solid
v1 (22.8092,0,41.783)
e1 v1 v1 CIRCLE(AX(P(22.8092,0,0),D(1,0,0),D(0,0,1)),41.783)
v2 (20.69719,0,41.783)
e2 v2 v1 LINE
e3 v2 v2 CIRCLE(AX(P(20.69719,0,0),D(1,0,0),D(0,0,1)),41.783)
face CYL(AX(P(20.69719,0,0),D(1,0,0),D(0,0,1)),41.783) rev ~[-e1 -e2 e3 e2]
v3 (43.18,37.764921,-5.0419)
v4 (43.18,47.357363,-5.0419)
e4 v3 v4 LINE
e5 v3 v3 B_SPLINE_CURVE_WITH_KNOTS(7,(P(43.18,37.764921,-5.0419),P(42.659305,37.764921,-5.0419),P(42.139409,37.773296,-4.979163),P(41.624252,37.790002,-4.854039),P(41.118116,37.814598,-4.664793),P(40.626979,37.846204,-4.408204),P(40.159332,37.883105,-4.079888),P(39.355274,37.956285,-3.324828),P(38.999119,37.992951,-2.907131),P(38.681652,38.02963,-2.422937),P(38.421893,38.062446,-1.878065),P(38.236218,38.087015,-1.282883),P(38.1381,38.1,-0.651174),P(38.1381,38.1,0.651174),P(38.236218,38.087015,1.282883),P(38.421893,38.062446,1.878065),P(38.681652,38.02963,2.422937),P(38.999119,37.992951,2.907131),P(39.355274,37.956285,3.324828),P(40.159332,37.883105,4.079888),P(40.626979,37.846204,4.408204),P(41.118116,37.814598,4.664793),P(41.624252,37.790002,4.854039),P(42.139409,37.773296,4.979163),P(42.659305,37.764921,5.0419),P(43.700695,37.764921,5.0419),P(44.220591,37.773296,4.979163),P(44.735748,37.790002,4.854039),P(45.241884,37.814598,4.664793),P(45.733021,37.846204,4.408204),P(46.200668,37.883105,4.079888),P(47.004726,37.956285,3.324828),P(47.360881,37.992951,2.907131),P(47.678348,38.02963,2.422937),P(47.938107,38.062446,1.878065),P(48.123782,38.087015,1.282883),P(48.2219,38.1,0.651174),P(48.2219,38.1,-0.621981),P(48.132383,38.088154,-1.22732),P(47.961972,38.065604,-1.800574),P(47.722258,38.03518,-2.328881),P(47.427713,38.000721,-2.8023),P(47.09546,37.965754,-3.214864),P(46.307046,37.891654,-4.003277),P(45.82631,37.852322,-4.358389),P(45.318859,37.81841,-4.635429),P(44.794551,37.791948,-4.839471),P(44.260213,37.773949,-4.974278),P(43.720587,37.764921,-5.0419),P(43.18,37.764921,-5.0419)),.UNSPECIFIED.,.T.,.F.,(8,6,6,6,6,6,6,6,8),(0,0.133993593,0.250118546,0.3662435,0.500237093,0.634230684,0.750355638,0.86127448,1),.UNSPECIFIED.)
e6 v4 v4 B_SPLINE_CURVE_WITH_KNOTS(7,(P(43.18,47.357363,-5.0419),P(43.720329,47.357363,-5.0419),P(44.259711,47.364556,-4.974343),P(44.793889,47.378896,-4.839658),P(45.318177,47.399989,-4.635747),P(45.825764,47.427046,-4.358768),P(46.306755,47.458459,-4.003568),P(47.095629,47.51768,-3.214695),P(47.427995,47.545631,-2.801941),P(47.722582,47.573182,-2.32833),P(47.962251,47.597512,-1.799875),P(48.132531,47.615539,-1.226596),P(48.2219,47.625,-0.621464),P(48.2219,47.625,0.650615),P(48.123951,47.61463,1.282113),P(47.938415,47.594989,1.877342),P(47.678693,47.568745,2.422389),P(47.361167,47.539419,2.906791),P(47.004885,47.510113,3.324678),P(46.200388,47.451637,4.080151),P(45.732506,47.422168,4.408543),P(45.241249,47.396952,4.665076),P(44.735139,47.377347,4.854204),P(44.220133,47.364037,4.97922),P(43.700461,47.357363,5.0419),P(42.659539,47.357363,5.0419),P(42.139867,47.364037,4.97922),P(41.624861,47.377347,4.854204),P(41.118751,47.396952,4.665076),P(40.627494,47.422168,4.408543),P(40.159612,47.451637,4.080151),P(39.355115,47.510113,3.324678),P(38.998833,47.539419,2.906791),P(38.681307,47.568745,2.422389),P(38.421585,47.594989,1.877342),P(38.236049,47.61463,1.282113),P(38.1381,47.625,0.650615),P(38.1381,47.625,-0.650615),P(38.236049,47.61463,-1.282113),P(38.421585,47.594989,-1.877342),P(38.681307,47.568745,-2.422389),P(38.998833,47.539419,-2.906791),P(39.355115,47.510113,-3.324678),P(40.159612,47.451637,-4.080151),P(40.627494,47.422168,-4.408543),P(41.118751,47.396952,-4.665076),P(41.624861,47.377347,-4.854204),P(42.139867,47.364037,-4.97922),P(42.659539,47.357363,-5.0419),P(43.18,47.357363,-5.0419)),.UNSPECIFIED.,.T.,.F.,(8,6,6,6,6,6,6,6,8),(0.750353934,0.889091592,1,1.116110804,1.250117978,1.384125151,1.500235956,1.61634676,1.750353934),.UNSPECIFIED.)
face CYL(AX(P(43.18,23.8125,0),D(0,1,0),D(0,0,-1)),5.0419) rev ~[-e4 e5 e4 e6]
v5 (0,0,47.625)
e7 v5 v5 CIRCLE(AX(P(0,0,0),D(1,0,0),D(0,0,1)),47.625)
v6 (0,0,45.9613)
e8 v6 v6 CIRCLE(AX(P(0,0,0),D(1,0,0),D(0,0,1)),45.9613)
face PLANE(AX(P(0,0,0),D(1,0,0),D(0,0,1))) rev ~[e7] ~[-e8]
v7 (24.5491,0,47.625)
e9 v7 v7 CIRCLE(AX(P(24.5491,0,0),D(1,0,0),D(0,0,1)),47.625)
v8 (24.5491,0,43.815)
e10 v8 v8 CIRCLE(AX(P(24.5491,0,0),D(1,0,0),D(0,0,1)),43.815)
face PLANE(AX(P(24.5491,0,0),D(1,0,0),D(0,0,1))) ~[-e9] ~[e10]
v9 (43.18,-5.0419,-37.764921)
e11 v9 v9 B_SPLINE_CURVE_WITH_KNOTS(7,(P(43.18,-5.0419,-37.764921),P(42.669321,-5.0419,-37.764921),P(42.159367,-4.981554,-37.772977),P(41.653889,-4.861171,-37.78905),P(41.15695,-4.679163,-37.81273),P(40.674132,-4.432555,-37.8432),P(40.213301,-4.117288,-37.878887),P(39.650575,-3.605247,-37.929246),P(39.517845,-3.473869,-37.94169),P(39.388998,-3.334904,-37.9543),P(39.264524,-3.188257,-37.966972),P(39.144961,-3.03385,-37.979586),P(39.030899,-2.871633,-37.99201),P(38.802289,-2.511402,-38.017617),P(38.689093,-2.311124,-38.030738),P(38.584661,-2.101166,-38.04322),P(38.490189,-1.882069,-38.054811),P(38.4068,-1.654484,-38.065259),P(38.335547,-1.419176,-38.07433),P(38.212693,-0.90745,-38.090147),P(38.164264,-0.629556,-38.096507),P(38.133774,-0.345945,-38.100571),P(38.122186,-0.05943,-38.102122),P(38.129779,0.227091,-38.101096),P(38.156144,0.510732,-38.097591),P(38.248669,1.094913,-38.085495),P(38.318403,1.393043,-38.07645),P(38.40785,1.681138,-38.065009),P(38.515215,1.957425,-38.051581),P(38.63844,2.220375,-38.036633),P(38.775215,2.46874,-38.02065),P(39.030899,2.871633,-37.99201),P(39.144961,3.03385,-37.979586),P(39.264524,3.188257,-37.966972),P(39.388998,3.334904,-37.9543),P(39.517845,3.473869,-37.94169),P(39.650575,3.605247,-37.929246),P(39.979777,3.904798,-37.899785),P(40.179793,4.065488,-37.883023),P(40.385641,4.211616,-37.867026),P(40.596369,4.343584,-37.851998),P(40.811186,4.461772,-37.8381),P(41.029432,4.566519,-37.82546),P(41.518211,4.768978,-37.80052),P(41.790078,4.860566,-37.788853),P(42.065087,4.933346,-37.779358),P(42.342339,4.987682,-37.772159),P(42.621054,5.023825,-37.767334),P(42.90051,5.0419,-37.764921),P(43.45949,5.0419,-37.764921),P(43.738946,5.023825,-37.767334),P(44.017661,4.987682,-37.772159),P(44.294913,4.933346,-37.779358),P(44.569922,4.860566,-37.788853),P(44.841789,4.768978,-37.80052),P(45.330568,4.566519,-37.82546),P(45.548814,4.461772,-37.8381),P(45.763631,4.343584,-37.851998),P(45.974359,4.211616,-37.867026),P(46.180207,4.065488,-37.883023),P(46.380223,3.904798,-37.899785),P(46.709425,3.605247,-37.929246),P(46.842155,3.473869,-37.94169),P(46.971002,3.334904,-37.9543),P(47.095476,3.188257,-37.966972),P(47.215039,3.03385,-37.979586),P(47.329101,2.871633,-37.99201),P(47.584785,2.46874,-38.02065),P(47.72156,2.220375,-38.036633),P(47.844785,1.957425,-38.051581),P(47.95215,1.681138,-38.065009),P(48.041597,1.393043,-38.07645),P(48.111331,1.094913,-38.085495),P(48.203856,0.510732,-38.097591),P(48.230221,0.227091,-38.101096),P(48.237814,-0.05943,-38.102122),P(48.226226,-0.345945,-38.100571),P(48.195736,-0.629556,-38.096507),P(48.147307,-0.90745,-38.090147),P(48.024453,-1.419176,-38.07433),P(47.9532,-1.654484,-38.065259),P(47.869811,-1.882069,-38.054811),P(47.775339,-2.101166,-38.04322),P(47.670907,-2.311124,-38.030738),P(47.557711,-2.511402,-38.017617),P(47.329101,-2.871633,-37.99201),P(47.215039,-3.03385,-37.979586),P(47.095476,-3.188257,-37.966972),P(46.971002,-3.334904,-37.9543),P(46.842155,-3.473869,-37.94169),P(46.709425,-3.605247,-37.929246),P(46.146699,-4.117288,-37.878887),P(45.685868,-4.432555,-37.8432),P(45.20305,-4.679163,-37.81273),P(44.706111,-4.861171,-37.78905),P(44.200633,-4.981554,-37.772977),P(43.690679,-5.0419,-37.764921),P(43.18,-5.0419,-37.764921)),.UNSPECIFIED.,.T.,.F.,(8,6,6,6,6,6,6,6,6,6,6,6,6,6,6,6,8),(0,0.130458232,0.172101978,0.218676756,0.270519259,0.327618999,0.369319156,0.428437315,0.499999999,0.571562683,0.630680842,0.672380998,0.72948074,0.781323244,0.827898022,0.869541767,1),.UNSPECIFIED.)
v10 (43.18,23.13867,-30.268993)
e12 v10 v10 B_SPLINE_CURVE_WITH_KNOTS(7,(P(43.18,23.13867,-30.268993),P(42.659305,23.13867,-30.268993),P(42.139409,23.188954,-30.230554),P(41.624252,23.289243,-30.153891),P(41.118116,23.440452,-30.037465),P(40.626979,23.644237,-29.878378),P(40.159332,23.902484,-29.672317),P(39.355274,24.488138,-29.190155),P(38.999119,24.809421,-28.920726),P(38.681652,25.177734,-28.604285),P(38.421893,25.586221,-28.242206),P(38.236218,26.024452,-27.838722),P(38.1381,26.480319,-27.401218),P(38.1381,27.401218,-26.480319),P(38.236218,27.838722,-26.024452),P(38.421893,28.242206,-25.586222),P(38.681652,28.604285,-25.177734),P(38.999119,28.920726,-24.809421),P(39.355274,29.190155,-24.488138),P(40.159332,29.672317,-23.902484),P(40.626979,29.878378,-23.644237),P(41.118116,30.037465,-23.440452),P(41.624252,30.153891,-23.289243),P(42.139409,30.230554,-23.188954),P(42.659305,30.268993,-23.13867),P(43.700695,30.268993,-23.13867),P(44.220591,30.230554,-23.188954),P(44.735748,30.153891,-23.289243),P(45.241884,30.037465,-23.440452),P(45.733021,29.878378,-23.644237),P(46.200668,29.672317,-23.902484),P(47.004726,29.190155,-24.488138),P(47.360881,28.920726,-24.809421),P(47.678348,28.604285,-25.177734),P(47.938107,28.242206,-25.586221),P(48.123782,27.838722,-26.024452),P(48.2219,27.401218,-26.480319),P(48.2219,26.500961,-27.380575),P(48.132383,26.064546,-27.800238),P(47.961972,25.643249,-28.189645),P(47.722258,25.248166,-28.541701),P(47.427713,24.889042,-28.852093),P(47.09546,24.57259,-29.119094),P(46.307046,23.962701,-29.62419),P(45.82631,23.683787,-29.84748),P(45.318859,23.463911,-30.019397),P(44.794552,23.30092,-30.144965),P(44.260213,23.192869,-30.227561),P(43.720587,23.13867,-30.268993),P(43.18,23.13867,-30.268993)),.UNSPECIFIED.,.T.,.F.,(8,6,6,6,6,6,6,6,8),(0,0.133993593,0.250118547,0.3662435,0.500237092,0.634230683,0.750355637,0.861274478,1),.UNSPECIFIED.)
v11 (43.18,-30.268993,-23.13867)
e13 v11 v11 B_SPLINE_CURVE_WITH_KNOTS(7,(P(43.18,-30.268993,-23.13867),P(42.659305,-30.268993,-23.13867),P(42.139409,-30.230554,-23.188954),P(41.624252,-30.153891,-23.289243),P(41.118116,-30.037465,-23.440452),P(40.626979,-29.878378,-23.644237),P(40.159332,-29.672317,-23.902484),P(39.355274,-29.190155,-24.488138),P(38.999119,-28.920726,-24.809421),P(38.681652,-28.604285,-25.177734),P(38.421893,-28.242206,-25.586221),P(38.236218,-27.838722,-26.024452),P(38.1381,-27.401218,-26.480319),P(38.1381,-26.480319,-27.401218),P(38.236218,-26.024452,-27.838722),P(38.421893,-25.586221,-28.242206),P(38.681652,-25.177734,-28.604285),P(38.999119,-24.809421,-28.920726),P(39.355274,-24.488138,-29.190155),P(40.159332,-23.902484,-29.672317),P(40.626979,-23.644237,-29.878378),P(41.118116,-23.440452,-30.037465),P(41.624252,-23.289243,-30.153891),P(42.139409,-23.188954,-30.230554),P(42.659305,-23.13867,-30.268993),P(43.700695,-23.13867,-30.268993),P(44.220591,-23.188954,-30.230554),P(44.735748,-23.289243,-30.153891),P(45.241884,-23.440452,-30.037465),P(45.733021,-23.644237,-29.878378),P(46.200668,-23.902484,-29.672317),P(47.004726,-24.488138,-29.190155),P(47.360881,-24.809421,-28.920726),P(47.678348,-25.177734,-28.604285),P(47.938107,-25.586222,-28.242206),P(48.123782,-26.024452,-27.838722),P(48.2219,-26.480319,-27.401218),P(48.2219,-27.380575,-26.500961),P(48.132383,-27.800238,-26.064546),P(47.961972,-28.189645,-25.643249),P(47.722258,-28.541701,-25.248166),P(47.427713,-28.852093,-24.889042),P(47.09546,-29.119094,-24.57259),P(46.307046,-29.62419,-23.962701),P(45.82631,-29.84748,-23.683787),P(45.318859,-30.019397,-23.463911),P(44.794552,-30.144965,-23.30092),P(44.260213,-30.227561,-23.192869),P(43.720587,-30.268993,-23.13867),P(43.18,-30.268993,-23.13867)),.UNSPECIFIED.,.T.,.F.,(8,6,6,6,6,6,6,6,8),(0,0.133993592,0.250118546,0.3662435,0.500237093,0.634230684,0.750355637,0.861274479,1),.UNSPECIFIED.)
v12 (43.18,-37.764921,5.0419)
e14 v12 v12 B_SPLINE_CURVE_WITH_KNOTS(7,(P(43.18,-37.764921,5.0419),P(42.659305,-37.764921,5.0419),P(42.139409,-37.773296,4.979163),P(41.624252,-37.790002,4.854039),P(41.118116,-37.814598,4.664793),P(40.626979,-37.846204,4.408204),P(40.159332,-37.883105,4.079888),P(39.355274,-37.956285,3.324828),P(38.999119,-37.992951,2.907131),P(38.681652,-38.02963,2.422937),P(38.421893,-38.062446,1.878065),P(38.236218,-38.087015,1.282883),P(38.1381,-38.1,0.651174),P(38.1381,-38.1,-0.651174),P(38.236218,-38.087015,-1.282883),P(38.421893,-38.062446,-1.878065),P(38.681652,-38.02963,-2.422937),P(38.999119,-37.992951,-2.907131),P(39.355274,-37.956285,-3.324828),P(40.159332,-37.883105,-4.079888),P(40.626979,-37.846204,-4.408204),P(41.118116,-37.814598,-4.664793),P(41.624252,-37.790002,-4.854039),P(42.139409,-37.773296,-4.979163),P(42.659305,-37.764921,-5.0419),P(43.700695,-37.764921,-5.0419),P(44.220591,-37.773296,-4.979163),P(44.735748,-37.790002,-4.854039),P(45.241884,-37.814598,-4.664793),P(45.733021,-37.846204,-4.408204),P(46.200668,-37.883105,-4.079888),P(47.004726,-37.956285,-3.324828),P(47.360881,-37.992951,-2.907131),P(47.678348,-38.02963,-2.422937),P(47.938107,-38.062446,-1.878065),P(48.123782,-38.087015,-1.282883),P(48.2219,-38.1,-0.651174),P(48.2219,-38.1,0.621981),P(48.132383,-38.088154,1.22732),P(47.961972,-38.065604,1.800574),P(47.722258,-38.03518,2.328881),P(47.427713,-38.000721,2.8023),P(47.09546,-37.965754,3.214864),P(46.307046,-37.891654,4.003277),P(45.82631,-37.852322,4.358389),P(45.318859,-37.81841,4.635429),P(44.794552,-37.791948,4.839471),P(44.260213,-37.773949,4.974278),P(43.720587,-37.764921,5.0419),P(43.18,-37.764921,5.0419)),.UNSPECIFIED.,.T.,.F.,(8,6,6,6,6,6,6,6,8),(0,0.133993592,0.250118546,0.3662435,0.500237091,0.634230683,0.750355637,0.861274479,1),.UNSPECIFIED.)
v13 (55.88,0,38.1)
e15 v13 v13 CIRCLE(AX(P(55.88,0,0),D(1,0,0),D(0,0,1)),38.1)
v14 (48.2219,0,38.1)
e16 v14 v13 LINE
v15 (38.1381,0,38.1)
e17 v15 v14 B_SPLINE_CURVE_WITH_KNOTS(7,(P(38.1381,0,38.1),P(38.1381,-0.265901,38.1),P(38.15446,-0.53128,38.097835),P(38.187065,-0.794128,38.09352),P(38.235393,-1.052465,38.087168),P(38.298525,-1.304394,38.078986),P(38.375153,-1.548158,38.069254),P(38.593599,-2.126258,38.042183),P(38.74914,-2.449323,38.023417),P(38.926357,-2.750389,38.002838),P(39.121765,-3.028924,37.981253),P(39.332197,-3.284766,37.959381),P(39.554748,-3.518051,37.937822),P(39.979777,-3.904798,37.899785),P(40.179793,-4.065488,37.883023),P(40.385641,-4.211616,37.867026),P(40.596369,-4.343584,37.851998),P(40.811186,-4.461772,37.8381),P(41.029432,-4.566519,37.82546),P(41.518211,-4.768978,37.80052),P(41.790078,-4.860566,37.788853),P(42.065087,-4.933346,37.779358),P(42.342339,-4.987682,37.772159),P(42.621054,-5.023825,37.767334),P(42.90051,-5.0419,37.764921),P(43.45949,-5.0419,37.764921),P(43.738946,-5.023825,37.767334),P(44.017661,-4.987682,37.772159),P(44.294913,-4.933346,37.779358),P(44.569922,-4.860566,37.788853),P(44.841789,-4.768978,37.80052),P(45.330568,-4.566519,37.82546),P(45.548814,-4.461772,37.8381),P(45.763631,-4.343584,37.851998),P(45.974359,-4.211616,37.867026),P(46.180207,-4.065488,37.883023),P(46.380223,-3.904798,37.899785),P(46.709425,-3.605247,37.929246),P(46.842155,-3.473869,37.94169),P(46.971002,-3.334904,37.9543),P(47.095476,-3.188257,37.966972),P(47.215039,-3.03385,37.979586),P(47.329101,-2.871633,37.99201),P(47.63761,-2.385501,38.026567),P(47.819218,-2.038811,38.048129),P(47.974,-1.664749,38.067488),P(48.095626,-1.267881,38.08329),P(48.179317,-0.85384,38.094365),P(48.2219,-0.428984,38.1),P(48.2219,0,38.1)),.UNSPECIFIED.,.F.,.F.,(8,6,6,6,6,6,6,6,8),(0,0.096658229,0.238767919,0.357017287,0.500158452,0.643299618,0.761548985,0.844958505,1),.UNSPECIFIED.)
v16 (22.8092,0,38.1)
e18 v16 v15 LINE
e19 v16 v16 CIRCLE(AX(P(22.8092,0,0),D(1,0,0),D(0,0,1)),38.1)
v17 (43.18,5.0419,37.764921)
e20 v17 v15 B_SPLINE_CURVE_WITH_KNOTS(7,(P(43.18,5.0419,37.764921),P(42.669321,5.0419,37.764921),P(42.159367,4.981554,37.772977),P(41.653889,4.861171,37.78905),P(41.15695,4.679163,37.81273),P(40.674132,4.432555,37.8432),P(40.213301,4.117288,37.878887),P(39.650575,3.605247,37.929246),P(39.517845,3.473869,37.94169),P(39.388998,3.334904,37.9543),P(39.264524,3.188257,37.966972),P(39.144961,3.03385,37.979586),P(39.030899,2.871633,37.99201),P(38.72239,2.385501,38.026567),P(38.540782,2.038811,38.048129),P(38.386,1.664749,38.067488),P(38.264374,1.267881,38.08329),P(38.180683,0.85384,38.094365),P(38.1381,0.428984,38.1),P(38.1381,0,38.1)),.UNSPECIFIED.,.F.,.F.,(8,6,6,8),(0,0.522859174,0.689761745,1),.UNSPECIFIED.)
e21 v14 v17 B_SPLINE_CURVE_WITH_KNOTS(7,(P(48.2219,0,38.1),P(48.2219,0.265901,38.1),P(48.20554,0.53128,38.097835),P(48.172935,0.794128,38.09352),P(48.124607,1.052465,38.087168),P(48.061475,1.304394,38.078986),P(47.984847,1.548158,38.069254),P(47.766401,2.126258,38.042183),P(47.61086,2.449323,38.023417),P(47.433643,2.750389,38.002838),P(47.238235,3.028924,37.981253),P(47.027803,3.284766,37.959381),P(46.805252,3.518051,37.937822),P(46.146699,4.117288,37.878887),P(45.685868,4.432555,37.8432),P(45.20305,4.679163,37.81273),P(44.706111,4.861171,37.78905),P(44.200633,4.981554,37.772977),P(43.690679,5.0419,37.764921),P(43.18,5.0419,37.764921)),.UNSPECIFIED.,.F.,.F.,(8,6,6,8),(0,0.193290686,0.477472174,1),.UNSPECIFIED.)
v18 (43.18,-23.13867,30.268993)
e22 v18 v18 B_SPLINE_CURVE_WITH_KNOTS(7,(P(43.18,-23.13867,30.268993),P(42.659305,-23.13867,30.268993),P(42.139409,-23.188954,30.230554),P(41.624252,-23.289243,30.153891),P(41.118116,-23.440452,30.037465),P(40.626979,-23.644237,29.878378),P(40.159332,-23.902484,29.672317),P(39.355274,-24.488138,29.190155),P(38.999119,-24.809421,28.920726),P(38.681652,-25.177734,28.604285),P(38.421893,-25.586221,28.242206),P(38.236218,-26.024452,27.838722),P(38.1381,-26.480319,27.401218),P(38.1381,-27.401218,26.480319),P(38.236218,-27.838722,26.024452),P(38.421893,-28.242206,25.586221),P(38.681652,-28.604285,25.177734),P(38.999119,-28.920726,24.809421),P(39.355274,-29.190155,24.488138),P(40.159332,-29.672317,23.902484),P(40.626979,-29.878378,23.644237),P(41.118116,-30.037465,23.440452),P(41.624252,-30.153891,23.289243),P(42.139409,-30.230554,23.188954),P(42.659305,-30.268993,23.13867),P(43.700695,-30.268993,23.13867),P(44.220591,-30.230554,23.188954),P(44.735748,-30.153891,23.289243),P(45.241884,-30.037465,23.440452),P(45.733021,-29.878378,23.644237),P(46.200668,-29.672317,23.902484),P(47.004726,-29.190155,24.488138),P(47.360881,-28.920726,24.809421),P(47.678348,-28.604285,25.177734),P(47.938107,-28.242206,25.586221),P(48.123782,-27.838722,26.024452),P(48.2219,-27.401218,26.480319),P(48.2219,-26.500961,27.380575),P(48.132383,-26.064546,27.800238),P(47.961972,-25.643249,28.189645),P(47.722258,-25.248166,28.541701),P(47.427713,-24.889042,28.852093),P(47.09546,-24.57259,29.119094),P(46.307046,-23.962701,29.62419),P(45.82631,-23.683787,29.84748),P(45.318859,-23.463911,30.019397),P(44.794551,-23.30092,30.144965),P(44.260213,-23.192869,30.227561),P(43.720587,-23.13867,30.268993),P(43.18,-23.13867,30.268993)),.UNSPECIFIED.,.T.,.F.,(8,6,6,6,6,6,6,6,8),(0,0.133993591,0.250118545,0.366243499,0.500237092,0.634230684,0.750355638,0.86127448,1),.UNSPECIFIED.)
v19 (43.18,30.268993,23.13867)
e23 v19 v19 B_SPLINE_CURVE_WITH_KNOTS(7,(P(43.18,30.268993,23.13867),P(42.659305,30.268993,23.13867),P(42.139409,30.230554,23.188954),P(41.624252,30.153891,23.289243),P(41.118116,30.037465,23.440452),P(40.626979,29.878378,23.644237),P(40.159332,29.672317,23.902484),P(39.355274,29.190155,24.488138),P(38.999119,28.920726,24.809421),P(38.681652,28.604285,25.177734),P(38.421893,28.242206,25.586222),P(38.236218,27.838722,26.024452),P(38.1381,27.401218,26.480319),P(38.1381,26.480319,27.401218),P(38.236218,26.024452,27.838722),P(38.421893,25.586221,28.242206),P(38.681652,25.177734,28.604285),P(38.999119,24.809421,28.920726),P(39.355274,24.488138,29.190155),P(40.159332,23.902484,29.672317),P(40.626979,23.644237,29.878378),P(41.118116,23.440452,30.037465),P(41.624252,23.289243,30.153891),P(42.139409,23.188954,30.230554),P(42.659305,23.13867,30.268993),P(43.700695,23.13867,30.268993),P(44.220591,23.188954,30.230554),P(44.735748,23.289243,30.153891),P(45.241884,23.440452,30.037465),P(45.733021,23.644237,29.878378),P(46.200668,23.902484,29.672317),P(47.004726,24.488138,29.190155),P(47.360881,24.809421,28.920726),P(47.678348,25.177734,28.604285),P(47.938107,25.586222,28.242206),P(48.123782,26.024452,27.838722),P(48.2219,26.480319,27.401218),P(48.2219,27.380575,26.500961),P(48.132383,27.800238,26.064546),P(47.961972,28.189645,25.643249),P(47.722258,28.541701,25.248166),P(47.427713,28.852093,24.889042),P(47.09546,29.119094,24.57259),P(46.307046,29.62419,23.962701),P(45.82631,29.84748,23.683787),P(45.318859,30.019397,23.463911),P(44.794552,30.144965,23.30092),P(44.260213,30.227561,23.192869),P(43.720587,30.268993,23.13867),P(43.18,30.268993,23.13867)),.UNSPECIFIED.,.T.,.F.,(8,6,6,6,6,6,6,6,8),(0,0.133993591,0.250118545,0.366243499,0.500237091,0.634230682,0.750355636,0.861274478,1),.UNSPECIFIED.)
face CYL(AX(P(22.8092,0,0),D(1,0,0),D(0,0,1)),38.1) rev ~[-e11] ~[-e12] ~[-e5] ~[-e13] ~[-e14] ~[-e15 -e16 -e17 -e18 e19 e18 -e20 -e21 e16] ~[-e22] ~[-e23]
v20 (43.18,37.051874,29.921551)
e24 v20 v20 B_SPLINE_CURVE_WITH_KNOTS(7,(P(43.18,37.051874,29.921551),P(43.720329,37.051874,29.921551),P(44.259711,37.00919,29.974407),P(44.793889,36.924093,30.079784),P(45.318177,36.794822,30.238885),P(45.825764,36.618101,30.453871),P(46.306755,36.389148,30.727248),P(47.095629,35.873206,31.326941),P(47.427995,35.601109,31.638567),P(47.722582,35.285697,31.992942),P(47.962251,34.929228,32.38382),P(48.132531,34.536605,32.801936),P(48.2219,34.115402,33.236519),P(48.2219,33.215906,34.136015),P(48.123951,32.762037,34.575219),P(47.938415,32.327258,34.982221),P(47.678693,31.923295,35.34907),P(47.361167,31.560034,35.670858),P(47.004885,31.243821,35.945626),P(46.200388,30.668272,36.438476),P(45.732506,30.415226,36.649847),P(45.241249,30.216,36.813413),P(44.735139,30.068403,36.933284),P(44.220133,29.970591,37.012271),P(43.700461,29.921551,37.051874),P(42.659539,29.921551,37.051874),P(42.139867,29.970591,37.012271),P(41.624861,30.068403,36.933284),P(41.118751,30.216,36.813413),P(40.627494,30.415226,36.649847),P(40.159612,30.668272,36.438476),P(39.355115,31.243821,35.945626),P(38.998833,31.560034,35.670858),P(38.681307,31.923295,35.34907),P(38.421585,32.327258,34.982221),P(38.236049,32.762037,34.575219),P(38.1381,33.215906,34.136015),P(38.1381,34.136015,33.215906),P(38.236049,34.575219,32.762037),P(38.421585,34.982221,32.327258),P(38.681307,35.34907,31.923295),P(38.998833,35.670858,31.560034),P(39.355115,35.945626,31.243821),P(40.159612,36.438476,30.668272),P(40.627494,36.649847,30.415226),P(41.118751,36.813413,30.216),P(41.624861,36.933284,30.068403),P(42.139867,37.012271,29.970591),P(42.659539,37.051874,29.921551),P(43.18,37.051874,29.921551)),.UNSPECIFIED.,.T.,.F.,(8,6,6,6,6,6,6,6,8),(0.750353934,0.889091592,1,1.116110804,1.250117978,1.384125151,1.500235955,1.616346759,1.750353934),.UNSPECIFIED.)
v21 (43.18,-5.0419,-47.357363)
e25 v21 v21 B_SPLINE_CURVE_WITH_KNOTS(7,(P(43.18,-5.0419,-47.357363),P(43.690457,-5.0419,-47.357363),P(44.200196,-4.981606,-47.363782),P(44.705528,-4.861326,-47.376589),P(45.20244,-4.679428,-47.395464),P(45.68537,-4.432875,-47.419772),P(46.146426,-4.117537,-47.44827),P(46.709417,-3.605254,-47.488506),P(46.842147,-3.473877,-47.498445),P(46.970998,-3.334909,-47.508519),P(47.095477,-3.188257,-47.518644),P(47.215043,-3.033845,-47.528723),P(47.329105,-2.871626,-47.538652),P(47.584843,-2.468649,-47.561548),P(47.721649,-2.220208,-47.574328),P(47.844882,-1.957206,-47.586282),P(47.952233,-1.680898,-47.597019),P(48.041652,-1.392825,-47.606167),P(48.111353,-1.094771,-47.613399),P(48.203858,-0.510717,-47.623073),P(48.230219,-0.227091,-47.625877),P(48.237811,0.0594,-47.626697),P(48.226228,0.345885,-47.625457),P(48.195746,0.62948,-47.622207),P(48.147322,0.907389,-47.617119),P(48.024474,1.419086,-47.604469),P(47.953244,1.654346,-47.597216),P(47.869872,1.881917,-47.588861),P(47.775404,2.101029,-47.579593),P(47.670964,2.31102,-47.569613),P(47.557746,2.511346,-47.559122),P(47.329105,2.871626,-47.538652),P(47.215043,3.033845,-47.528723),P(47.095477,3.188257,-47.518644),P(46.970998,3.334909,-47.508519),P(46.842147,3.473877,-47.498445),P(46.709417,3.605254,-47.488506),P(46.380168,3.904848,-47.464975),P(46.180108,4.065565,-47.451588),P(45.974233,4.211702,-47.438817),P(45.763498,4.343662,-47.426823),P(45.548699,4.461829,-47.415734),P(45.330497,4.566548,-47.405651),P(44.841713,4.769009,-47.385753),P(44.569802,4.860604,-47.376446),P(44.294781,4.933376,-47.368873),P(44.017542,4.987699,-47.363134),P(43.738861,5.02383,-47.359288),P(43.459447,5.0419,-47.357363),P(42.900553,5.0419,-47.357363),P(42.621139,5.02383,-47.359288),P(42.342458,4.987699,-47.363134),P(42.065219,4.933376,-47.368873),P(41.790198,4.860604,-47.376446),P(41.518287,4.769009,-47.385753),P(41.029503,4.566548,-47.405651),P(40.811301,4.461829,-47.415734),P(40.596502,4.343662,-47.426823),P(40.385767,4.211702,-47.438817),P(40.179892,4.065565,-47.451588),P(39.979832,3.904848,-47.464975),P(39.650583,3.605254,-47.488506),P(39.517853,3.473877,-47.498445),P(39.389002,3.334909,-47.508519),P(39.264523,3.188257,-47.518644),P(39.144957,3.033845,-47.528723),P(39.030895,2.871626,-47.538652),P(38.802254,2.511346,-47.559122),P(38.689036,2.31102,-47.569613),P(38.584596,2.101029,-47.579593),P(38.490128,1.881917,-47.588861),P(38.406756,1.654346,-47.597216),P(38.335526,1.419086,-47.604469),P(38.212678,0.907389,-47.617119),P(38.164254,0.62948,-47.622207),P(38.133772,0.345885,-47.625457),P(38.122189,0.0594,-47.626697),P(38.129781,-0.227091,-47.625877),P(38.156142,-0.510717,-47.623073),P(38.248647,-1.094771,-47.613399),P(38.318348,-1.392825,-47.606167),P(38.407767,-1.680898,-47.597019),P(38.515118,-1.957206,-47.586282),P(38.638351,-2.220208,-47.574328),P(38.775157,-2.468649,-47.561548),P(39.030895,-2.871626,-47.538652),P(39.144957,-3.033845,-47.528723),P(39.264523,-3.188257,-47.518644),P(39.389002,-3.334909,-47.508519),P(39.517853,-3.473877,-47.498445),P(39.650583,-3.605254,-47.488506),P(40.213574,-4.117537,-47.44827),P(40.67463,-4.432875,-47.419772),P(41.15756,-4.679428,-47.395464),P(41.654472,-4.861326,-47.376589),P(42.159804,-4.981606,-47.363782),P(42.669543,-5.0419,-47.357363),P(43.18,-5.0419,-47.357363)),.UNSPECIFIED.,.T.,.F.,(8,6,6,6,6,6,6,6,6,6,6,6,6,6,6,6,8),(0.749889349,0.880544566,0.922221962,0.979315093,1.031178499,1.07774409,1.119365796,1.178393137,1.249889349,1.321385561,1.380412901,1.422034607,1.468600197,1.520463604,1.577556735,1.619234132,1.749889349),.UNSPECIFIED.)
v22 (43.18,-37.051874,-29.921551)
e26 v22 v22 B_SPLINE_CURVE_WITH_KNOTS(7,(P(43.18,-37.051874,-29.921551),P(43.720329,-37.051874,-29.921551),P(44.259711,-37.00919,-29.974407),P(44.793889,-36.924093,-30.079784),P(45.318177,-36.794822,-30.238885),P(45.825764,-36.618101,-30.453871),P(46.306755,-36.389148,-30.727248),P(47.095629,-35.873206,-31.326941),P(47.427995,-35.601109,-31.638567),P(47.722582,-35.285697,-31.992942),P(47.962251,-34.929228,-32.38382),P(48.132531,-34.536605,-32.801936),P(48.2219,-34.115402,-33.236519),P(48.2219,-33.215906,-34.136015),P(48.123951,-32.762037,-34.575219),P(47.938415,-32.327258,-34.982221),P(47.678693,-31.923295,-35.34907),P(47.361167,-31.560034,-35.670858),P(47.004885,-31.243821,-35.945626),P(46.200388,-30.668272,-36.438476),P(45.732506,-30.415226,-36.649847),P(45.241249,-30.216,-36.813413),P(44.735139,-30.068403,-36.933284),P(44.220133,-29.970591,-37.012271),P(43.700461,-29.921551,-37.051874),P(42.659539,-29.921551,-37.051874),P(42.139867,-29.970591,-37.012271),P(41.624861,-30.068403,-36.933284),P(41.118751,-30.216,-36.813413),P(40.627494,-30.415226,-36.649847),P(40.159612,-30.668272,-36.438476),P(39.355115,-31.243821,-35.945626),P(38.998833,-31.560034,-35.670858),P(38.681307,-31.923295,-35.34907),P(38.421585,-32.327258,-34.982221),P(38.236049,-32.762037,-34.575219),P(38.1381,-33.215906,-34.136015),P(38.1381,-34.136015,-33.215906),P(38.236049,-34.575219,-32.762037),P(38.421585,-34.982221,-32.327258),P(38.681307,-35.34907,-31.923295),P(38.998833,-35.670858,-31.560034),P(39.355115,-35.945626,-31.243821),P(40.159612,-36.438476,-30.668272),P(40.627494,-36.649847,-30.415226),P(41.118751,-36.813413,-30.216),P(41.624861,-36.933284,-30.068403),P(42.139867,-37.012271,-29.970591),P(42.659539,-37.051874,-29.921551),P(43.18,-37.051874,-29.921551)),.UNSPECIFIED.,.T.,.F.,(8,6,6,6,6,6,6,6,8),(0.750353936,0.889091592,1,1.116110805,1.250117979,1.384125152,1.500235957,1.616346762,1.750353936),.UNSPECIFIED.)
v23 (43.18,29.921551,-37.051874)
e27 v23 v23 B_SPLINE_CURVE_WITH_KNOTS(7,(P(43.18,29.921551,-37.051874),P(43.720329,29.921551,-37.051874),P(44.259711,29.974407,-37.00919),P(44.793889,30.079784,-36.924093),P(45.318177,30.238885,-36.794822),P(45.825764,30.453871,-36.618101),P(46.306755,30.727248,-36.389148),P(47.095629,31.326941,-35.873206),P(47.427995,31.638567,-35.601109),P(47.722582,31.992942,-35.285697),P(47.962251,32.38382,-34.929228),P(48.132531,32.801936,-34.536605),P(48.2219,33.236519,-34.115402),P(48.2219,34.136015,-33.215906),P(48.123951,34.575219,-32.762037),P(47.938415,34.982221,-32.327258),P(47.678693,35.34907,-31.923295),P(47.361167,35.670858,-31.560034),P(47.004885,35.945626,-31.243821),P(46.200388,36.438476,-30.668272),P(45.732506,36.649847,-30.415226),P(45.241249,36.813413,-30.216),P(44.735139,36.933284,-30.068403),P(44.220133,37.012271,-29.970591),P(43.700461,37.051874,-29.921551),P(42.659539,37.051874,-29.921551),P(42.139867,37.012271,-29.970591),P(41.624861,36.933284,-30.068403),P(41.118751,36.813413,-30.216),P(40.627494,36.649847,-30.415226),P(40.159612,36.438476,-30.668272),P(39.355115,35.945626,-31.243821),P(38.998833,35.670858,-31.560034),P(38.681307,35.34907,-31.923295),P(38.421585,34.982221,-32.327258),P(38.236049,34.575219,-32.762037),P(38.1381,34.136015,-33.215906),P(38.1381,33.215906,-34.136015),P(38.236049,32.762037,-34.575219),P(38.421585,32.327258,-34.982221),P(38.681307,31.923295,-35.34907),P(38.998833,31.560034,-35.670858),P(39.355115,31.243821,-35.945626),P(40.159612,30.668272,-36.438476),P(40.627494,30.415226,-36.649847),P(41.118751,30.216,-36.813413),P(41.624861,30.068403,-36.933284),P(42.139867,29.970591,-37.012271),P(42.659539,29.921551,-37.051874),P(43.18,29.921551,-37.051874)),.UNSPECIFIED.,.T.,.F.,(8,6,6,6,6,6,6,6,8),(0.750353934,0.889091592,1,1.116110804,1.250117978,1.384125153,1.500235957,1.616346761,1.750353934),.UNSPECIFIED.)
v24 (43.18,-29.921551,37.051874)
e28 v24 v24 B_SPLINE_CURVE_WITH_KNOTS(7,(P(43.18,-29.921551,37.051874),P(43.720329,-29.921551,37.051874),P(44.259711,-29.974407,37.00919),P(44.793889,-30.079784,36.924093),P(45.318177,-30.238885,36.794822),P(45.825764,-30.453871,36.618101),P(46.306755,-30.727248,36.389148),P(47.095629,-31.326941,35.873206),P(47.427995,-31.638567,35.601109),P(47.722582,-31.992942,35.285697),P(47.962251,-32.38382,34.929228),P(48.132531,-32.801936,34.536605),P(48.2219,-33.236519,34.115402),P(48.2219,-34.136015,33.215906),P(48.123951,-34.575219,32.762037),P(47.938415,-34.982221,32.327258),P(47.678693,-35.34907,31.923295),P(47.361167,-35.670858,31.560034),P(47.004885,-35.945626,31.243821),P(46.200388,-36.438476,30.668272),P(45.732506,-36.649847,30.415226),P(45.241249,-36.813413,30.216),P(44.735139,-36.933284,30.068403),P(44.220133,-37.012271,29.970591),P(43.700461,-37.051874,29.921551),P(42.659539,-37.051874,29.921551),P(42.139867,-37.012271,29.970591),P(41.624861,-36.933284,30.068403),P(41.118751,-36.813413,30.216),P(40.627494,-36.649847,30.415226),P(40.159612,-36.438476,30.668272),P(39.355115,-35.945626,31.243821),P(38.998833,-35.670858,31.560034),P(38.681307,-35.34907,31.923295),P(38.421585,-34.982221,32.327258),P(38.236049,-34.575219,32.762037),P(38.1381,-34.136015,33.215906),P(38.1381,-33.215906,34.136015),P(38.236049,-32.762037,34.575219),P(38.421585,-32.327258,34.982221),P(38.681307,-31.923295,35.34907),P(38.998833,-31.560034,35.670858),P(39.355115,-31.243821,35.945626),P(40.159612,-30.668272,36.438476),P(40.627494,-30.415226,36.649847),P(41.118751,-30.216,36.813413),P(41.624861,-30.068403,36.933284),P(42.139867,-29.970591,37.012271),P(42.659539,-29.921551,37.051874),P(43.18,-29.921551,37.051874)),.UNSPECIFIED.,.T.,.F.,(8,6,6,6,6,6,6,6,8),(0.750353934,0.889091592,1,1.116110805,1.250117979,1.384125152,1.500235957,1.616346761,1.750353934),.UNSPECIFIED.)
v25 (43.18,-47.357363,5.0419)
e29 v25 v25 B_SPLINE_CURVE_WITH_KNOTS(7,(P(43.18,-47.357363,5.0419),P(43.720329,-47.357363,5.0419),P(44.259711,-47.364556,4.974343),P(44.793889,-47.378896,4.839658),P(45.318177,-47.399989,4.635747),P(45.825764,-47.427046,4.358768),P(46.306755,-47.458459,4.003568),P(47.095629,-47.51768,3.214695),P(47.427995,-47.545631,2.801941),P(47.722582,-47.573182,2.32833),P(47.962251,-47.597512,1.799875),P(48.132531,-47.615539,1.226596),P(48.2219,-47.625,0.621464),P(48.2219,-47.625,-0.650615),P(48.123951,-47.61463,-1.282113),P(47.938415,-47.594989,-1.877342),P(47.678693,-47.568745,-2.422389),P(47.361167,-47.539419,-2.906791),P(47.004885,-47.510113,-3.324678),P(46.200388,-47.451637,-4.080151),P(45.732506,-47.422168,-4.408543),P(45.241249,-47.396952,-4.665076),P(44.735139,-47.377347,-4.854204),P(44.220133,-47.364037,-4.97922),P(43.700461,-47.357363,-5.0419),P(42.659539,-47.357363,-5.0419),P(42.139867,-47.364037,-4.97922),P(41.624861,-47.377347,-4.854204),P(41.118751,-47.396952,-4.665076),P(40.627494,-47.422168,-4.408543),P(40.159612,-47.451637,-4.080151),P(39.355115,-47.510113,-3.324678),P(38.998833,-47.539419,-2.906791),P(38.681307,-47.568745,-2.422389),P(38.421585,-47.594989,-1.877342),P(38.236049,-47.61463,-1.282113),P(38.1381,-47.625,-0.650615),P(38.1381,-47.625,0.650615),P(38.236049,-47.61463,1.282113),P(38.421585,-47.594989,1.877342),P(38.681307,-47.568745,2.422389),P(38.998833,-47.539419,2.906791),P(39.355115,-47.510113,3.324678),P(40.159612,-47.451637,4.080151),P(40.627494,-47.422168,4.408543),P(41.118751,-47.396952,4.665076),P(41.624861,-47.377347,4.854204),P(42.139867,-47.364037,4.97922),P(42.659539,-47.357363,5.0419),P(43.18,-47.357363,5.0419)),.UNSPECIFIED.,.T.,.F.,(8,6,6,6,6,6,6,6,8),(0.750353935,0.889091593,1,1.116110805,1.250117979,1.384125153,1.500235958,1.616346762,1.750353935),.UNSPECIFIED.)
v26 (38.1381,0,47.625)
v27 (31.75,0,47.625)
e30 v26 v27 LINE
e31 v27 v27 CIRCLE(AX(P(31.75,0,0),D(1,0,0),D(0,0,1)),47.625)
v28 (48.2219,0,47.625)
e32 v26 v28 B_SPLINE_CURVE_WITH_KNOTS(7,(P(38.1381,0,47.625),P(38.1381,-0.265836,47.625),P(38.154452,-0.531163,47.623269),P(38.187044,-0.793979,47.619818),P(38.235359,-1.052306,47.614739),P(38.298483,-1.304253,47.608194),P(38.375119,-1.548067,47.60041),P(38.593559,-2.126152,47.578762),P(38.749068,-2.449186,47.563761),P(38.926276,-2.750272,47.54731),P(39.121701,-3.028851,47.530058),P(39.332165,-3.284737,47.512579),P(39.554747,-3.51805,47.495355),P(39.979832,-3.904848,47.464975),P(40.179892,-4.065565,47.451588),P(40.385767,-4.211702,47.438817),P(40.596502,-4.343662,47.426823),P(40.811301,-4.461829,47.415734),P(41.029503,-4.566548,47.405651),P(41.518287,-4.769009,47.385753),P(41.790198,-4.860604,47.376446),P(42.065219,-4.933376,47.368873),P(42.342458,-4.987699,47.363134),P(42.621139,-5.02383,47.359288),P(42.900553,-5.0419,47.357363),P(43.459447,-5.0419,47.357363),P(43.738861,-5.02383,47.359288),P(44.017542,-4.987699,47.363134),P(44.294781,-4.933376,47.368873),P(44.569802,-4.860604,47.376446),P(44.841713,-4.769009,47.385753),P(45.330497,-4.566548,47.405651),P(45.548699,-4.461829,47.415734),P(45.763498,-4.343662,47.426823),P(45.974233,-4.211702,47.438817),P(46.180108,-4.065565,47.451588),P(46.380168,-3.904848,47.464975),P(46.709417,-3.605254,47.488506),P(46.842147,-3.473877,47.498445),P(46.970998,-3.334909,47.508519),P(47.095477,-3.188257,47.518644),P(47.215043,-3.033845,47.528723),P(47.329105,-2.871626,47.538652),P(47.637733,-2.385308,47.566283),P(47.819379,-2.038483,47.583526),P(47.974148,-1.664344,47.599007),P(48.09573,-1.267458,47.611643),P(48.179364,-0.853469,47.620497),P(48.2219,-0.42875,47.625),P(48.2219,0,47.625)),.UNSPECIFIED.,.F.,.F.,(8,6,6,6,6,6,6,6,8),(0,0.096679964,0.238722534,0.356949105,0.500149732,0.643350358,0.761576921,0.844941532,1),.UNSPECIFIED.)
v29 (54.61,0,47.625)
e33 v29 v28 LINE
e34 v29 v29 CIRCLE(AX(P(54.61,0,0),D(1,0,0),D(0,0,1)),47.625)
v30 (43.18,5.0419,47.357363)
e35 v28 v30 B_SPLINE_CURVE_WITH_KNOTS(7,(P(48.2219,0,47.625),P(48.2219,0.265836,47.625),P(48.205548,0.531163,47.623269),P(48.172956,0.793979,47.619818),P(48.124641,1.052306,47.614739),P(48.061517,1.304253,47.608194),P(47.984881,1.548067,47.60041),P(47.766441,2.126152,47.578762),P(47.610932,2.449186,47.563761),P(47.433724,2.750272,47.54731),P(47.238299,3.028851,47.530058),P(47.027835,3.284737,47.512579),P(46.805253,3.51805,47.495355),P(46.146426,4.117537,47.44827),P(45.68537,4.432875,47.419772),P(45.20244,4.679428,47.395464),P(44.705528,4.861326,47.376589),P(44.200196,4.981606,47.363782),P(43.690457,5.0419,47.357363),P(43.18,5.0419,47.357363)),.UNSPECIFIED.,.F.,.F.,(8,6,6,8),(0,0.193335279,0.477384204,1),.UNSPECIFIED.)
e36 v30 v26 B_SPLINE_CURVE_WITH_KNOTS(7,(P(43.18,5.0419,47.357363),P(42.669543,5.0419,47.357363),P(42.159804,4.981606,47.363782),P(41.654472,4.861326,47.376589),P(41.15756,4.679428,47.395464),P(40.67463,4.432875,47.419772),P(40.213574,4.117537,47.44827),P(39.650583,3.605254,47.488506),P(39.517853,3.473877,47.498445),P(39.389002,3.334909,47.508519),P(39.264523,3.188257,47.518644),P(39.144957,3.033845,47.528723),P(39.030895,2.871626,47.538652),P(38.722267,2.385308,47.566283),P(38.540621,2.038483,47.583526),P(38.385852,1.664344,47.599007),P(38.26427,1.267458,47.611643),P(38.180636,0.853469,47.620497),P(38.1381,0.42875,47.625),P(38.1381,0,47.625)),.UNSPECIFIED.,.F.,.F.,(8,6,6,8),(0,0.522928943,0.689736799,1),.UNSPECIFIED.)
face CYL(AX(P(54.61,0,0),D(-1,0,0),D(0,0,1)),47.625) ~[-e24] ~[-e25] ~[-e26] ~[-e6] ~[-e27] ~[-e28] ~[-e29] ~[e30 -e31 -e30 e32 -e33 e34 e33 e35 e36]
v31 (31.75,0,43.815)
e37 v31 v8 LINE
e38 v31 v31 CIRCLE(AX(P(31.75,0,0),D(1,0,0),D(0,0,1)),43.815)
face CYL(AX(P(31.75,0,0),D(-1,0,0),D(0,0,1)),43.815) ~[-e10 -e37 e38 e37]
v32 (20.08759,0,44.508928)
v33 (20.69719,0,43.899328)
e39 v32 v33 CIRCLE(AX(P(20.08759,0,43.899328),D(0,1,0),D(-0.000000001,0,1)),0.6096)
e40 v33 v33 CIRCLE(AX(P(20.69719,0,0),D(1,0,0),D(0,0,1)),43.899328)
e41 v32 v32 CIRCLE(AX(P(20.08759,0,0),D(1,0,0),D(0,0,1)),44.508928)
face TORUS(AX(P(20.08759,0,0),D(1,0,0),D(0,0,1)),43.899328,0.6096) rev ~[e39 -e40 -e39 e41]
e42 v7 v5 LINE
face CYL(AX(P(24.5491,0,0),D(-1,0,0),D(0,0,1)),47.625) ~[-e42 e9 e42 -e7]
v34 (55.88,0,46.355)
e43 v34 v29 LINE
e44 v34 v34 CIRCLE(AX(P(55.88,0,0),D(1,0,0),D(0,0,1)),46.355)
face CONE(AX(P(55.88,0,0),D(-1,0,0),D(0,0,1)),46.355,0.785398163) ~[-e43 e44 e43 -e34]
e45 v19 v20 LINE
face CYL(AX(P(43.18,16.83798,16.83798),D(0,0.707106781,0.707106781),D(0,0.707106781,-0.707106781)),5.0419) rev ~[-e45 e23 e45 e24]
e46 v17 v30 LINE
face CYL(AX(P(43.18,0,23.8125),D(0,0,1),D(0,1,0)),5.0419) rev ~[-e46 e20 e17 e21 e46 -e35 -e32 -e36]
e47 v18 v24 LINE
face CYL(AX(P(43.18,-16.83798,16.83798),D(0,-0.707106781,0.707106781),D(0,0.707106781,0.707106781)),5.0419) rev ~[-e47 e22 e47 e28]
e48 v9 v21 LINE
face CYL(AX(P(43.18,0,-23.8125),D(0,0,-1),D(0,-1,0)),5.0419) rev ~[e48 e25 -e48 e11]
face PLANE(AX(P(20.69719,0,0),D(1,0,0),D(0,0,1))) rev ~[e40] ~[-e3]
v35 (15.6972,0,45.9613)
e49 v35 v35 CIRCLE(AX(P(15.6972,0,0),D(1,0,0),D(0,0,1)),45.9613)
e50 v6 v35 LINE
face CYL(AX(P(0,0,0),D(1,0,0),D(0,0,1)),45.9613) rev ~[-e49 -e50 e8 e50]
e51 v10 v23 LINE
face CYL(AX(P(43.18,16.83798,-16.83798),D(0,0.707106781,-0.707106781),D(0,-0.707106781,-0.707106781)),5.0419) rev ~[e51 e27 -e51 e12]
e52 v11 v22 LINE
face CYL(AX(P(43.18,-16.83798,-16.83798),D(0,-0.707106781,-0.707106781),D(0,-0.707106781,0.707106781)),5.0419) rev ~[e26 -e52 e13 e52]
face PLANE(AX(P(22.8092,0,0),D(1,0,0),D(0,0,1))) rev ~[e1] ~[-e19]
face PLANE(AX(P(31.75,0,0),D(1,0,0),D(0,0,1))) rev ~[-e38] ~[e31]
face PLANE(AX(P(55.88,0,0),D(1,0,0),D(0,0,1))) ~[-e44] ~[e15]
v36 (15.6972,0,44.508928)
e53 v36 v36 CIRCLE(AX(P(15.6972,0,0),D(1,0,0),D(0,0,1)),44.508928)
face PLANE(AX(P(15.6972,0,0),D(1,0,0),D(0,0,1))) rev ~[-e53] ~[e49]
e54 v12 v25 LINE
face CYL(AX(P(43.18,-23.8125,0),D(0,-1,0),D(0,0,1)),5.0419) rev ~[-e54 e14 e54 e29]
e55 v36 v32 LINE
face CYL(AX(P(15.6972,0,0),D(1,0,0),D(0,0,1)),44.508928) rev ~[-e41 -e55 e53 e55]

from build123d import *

# Parameters (mm, degrees)
SKETCH4_W         = 5.0419
SKETCH4_H         = 47.625
CIRPATTERN1_COUNT = 8


with BuildPart() as part:
    # Sketch1 → Revolve1 (revolve)
    with BuildSketch(Plane.XY, mode=Mode.PRIVATE) as revolve1_sk:
        with BuildLine():
            Line((0, 45.9613), (15.6972, 45.9613))
            Line((15.6972, 45.9613), (15.6972, 44.508928))
            Line((15.6972, 44.508928), (20.08759, 44.508928))
            ThreePointArc((20.08759, 44.508928), (20.518642294, 44.330380294), (20.69719, 43.899328))
            Line((20.69719, 43.899328), (20.69719, 41.783))
            Line((20.69719, 41.783), (22.8092, 41.783))
            Line((22.8092, 41.783), (22.8092, 38.1))
            Line((22.8092, 38.1), (55.88, 38.1))
            Line((55.88, 38.1), (55.88, 46.355))
            Line((55.88, 46.355), (54.61, 47.625))
            Line((54.61, 47.625), (31.75, 47.625))
            Line((31.75, 47.625), (31.75, 43.815))
            Line((31.75, 43.815), (24.5491, 43.815))
            Line((24.5491, 43.815), (24.5491, 47.625))
            Line((24.5491, 47.625), (0, 47.625))
            Line((0, 47.625), (0, 45.9613))
        make_face()
    revolve(revolve1_sk.sketch.rotate(Axis((0, 0, 0), (1, 0, 0)), 90), axis=Axis((0, 0, 0), (1, 0, 0)))

    # Sketch4 → Tap Drill for 3/8 Helicoil1 (revolve, cut)
    with BuildSketch(Plane.YZ.offset(43.18)):
        with Locations((2.52095, 23.8125)):
            Rectangle(SKETCH4_W, SKETCH4_H)
    tap_drill_for_3_8_helicoil1 = revolve(axis=Axis((43.18, 0, -6.35), (0, 0, 1)), mode=Mode.SUBTRACT)

    # CirPattern1: Tap Drill for 3/8 Helicoil1 ×8 about axis
    cirpattern1_axis = Axis((54.61, 0, 0), (-1, 0, 0))
    for i in range(1, CIRPATTERN1_COUNT):
        add(tap_drill_for_3_8_helicoil1.rotate(cirpattern1_axis, i * 360 / CIRPATTERN1_COUNT), mode=Mode.SUBTRACT)


solid = part.part
